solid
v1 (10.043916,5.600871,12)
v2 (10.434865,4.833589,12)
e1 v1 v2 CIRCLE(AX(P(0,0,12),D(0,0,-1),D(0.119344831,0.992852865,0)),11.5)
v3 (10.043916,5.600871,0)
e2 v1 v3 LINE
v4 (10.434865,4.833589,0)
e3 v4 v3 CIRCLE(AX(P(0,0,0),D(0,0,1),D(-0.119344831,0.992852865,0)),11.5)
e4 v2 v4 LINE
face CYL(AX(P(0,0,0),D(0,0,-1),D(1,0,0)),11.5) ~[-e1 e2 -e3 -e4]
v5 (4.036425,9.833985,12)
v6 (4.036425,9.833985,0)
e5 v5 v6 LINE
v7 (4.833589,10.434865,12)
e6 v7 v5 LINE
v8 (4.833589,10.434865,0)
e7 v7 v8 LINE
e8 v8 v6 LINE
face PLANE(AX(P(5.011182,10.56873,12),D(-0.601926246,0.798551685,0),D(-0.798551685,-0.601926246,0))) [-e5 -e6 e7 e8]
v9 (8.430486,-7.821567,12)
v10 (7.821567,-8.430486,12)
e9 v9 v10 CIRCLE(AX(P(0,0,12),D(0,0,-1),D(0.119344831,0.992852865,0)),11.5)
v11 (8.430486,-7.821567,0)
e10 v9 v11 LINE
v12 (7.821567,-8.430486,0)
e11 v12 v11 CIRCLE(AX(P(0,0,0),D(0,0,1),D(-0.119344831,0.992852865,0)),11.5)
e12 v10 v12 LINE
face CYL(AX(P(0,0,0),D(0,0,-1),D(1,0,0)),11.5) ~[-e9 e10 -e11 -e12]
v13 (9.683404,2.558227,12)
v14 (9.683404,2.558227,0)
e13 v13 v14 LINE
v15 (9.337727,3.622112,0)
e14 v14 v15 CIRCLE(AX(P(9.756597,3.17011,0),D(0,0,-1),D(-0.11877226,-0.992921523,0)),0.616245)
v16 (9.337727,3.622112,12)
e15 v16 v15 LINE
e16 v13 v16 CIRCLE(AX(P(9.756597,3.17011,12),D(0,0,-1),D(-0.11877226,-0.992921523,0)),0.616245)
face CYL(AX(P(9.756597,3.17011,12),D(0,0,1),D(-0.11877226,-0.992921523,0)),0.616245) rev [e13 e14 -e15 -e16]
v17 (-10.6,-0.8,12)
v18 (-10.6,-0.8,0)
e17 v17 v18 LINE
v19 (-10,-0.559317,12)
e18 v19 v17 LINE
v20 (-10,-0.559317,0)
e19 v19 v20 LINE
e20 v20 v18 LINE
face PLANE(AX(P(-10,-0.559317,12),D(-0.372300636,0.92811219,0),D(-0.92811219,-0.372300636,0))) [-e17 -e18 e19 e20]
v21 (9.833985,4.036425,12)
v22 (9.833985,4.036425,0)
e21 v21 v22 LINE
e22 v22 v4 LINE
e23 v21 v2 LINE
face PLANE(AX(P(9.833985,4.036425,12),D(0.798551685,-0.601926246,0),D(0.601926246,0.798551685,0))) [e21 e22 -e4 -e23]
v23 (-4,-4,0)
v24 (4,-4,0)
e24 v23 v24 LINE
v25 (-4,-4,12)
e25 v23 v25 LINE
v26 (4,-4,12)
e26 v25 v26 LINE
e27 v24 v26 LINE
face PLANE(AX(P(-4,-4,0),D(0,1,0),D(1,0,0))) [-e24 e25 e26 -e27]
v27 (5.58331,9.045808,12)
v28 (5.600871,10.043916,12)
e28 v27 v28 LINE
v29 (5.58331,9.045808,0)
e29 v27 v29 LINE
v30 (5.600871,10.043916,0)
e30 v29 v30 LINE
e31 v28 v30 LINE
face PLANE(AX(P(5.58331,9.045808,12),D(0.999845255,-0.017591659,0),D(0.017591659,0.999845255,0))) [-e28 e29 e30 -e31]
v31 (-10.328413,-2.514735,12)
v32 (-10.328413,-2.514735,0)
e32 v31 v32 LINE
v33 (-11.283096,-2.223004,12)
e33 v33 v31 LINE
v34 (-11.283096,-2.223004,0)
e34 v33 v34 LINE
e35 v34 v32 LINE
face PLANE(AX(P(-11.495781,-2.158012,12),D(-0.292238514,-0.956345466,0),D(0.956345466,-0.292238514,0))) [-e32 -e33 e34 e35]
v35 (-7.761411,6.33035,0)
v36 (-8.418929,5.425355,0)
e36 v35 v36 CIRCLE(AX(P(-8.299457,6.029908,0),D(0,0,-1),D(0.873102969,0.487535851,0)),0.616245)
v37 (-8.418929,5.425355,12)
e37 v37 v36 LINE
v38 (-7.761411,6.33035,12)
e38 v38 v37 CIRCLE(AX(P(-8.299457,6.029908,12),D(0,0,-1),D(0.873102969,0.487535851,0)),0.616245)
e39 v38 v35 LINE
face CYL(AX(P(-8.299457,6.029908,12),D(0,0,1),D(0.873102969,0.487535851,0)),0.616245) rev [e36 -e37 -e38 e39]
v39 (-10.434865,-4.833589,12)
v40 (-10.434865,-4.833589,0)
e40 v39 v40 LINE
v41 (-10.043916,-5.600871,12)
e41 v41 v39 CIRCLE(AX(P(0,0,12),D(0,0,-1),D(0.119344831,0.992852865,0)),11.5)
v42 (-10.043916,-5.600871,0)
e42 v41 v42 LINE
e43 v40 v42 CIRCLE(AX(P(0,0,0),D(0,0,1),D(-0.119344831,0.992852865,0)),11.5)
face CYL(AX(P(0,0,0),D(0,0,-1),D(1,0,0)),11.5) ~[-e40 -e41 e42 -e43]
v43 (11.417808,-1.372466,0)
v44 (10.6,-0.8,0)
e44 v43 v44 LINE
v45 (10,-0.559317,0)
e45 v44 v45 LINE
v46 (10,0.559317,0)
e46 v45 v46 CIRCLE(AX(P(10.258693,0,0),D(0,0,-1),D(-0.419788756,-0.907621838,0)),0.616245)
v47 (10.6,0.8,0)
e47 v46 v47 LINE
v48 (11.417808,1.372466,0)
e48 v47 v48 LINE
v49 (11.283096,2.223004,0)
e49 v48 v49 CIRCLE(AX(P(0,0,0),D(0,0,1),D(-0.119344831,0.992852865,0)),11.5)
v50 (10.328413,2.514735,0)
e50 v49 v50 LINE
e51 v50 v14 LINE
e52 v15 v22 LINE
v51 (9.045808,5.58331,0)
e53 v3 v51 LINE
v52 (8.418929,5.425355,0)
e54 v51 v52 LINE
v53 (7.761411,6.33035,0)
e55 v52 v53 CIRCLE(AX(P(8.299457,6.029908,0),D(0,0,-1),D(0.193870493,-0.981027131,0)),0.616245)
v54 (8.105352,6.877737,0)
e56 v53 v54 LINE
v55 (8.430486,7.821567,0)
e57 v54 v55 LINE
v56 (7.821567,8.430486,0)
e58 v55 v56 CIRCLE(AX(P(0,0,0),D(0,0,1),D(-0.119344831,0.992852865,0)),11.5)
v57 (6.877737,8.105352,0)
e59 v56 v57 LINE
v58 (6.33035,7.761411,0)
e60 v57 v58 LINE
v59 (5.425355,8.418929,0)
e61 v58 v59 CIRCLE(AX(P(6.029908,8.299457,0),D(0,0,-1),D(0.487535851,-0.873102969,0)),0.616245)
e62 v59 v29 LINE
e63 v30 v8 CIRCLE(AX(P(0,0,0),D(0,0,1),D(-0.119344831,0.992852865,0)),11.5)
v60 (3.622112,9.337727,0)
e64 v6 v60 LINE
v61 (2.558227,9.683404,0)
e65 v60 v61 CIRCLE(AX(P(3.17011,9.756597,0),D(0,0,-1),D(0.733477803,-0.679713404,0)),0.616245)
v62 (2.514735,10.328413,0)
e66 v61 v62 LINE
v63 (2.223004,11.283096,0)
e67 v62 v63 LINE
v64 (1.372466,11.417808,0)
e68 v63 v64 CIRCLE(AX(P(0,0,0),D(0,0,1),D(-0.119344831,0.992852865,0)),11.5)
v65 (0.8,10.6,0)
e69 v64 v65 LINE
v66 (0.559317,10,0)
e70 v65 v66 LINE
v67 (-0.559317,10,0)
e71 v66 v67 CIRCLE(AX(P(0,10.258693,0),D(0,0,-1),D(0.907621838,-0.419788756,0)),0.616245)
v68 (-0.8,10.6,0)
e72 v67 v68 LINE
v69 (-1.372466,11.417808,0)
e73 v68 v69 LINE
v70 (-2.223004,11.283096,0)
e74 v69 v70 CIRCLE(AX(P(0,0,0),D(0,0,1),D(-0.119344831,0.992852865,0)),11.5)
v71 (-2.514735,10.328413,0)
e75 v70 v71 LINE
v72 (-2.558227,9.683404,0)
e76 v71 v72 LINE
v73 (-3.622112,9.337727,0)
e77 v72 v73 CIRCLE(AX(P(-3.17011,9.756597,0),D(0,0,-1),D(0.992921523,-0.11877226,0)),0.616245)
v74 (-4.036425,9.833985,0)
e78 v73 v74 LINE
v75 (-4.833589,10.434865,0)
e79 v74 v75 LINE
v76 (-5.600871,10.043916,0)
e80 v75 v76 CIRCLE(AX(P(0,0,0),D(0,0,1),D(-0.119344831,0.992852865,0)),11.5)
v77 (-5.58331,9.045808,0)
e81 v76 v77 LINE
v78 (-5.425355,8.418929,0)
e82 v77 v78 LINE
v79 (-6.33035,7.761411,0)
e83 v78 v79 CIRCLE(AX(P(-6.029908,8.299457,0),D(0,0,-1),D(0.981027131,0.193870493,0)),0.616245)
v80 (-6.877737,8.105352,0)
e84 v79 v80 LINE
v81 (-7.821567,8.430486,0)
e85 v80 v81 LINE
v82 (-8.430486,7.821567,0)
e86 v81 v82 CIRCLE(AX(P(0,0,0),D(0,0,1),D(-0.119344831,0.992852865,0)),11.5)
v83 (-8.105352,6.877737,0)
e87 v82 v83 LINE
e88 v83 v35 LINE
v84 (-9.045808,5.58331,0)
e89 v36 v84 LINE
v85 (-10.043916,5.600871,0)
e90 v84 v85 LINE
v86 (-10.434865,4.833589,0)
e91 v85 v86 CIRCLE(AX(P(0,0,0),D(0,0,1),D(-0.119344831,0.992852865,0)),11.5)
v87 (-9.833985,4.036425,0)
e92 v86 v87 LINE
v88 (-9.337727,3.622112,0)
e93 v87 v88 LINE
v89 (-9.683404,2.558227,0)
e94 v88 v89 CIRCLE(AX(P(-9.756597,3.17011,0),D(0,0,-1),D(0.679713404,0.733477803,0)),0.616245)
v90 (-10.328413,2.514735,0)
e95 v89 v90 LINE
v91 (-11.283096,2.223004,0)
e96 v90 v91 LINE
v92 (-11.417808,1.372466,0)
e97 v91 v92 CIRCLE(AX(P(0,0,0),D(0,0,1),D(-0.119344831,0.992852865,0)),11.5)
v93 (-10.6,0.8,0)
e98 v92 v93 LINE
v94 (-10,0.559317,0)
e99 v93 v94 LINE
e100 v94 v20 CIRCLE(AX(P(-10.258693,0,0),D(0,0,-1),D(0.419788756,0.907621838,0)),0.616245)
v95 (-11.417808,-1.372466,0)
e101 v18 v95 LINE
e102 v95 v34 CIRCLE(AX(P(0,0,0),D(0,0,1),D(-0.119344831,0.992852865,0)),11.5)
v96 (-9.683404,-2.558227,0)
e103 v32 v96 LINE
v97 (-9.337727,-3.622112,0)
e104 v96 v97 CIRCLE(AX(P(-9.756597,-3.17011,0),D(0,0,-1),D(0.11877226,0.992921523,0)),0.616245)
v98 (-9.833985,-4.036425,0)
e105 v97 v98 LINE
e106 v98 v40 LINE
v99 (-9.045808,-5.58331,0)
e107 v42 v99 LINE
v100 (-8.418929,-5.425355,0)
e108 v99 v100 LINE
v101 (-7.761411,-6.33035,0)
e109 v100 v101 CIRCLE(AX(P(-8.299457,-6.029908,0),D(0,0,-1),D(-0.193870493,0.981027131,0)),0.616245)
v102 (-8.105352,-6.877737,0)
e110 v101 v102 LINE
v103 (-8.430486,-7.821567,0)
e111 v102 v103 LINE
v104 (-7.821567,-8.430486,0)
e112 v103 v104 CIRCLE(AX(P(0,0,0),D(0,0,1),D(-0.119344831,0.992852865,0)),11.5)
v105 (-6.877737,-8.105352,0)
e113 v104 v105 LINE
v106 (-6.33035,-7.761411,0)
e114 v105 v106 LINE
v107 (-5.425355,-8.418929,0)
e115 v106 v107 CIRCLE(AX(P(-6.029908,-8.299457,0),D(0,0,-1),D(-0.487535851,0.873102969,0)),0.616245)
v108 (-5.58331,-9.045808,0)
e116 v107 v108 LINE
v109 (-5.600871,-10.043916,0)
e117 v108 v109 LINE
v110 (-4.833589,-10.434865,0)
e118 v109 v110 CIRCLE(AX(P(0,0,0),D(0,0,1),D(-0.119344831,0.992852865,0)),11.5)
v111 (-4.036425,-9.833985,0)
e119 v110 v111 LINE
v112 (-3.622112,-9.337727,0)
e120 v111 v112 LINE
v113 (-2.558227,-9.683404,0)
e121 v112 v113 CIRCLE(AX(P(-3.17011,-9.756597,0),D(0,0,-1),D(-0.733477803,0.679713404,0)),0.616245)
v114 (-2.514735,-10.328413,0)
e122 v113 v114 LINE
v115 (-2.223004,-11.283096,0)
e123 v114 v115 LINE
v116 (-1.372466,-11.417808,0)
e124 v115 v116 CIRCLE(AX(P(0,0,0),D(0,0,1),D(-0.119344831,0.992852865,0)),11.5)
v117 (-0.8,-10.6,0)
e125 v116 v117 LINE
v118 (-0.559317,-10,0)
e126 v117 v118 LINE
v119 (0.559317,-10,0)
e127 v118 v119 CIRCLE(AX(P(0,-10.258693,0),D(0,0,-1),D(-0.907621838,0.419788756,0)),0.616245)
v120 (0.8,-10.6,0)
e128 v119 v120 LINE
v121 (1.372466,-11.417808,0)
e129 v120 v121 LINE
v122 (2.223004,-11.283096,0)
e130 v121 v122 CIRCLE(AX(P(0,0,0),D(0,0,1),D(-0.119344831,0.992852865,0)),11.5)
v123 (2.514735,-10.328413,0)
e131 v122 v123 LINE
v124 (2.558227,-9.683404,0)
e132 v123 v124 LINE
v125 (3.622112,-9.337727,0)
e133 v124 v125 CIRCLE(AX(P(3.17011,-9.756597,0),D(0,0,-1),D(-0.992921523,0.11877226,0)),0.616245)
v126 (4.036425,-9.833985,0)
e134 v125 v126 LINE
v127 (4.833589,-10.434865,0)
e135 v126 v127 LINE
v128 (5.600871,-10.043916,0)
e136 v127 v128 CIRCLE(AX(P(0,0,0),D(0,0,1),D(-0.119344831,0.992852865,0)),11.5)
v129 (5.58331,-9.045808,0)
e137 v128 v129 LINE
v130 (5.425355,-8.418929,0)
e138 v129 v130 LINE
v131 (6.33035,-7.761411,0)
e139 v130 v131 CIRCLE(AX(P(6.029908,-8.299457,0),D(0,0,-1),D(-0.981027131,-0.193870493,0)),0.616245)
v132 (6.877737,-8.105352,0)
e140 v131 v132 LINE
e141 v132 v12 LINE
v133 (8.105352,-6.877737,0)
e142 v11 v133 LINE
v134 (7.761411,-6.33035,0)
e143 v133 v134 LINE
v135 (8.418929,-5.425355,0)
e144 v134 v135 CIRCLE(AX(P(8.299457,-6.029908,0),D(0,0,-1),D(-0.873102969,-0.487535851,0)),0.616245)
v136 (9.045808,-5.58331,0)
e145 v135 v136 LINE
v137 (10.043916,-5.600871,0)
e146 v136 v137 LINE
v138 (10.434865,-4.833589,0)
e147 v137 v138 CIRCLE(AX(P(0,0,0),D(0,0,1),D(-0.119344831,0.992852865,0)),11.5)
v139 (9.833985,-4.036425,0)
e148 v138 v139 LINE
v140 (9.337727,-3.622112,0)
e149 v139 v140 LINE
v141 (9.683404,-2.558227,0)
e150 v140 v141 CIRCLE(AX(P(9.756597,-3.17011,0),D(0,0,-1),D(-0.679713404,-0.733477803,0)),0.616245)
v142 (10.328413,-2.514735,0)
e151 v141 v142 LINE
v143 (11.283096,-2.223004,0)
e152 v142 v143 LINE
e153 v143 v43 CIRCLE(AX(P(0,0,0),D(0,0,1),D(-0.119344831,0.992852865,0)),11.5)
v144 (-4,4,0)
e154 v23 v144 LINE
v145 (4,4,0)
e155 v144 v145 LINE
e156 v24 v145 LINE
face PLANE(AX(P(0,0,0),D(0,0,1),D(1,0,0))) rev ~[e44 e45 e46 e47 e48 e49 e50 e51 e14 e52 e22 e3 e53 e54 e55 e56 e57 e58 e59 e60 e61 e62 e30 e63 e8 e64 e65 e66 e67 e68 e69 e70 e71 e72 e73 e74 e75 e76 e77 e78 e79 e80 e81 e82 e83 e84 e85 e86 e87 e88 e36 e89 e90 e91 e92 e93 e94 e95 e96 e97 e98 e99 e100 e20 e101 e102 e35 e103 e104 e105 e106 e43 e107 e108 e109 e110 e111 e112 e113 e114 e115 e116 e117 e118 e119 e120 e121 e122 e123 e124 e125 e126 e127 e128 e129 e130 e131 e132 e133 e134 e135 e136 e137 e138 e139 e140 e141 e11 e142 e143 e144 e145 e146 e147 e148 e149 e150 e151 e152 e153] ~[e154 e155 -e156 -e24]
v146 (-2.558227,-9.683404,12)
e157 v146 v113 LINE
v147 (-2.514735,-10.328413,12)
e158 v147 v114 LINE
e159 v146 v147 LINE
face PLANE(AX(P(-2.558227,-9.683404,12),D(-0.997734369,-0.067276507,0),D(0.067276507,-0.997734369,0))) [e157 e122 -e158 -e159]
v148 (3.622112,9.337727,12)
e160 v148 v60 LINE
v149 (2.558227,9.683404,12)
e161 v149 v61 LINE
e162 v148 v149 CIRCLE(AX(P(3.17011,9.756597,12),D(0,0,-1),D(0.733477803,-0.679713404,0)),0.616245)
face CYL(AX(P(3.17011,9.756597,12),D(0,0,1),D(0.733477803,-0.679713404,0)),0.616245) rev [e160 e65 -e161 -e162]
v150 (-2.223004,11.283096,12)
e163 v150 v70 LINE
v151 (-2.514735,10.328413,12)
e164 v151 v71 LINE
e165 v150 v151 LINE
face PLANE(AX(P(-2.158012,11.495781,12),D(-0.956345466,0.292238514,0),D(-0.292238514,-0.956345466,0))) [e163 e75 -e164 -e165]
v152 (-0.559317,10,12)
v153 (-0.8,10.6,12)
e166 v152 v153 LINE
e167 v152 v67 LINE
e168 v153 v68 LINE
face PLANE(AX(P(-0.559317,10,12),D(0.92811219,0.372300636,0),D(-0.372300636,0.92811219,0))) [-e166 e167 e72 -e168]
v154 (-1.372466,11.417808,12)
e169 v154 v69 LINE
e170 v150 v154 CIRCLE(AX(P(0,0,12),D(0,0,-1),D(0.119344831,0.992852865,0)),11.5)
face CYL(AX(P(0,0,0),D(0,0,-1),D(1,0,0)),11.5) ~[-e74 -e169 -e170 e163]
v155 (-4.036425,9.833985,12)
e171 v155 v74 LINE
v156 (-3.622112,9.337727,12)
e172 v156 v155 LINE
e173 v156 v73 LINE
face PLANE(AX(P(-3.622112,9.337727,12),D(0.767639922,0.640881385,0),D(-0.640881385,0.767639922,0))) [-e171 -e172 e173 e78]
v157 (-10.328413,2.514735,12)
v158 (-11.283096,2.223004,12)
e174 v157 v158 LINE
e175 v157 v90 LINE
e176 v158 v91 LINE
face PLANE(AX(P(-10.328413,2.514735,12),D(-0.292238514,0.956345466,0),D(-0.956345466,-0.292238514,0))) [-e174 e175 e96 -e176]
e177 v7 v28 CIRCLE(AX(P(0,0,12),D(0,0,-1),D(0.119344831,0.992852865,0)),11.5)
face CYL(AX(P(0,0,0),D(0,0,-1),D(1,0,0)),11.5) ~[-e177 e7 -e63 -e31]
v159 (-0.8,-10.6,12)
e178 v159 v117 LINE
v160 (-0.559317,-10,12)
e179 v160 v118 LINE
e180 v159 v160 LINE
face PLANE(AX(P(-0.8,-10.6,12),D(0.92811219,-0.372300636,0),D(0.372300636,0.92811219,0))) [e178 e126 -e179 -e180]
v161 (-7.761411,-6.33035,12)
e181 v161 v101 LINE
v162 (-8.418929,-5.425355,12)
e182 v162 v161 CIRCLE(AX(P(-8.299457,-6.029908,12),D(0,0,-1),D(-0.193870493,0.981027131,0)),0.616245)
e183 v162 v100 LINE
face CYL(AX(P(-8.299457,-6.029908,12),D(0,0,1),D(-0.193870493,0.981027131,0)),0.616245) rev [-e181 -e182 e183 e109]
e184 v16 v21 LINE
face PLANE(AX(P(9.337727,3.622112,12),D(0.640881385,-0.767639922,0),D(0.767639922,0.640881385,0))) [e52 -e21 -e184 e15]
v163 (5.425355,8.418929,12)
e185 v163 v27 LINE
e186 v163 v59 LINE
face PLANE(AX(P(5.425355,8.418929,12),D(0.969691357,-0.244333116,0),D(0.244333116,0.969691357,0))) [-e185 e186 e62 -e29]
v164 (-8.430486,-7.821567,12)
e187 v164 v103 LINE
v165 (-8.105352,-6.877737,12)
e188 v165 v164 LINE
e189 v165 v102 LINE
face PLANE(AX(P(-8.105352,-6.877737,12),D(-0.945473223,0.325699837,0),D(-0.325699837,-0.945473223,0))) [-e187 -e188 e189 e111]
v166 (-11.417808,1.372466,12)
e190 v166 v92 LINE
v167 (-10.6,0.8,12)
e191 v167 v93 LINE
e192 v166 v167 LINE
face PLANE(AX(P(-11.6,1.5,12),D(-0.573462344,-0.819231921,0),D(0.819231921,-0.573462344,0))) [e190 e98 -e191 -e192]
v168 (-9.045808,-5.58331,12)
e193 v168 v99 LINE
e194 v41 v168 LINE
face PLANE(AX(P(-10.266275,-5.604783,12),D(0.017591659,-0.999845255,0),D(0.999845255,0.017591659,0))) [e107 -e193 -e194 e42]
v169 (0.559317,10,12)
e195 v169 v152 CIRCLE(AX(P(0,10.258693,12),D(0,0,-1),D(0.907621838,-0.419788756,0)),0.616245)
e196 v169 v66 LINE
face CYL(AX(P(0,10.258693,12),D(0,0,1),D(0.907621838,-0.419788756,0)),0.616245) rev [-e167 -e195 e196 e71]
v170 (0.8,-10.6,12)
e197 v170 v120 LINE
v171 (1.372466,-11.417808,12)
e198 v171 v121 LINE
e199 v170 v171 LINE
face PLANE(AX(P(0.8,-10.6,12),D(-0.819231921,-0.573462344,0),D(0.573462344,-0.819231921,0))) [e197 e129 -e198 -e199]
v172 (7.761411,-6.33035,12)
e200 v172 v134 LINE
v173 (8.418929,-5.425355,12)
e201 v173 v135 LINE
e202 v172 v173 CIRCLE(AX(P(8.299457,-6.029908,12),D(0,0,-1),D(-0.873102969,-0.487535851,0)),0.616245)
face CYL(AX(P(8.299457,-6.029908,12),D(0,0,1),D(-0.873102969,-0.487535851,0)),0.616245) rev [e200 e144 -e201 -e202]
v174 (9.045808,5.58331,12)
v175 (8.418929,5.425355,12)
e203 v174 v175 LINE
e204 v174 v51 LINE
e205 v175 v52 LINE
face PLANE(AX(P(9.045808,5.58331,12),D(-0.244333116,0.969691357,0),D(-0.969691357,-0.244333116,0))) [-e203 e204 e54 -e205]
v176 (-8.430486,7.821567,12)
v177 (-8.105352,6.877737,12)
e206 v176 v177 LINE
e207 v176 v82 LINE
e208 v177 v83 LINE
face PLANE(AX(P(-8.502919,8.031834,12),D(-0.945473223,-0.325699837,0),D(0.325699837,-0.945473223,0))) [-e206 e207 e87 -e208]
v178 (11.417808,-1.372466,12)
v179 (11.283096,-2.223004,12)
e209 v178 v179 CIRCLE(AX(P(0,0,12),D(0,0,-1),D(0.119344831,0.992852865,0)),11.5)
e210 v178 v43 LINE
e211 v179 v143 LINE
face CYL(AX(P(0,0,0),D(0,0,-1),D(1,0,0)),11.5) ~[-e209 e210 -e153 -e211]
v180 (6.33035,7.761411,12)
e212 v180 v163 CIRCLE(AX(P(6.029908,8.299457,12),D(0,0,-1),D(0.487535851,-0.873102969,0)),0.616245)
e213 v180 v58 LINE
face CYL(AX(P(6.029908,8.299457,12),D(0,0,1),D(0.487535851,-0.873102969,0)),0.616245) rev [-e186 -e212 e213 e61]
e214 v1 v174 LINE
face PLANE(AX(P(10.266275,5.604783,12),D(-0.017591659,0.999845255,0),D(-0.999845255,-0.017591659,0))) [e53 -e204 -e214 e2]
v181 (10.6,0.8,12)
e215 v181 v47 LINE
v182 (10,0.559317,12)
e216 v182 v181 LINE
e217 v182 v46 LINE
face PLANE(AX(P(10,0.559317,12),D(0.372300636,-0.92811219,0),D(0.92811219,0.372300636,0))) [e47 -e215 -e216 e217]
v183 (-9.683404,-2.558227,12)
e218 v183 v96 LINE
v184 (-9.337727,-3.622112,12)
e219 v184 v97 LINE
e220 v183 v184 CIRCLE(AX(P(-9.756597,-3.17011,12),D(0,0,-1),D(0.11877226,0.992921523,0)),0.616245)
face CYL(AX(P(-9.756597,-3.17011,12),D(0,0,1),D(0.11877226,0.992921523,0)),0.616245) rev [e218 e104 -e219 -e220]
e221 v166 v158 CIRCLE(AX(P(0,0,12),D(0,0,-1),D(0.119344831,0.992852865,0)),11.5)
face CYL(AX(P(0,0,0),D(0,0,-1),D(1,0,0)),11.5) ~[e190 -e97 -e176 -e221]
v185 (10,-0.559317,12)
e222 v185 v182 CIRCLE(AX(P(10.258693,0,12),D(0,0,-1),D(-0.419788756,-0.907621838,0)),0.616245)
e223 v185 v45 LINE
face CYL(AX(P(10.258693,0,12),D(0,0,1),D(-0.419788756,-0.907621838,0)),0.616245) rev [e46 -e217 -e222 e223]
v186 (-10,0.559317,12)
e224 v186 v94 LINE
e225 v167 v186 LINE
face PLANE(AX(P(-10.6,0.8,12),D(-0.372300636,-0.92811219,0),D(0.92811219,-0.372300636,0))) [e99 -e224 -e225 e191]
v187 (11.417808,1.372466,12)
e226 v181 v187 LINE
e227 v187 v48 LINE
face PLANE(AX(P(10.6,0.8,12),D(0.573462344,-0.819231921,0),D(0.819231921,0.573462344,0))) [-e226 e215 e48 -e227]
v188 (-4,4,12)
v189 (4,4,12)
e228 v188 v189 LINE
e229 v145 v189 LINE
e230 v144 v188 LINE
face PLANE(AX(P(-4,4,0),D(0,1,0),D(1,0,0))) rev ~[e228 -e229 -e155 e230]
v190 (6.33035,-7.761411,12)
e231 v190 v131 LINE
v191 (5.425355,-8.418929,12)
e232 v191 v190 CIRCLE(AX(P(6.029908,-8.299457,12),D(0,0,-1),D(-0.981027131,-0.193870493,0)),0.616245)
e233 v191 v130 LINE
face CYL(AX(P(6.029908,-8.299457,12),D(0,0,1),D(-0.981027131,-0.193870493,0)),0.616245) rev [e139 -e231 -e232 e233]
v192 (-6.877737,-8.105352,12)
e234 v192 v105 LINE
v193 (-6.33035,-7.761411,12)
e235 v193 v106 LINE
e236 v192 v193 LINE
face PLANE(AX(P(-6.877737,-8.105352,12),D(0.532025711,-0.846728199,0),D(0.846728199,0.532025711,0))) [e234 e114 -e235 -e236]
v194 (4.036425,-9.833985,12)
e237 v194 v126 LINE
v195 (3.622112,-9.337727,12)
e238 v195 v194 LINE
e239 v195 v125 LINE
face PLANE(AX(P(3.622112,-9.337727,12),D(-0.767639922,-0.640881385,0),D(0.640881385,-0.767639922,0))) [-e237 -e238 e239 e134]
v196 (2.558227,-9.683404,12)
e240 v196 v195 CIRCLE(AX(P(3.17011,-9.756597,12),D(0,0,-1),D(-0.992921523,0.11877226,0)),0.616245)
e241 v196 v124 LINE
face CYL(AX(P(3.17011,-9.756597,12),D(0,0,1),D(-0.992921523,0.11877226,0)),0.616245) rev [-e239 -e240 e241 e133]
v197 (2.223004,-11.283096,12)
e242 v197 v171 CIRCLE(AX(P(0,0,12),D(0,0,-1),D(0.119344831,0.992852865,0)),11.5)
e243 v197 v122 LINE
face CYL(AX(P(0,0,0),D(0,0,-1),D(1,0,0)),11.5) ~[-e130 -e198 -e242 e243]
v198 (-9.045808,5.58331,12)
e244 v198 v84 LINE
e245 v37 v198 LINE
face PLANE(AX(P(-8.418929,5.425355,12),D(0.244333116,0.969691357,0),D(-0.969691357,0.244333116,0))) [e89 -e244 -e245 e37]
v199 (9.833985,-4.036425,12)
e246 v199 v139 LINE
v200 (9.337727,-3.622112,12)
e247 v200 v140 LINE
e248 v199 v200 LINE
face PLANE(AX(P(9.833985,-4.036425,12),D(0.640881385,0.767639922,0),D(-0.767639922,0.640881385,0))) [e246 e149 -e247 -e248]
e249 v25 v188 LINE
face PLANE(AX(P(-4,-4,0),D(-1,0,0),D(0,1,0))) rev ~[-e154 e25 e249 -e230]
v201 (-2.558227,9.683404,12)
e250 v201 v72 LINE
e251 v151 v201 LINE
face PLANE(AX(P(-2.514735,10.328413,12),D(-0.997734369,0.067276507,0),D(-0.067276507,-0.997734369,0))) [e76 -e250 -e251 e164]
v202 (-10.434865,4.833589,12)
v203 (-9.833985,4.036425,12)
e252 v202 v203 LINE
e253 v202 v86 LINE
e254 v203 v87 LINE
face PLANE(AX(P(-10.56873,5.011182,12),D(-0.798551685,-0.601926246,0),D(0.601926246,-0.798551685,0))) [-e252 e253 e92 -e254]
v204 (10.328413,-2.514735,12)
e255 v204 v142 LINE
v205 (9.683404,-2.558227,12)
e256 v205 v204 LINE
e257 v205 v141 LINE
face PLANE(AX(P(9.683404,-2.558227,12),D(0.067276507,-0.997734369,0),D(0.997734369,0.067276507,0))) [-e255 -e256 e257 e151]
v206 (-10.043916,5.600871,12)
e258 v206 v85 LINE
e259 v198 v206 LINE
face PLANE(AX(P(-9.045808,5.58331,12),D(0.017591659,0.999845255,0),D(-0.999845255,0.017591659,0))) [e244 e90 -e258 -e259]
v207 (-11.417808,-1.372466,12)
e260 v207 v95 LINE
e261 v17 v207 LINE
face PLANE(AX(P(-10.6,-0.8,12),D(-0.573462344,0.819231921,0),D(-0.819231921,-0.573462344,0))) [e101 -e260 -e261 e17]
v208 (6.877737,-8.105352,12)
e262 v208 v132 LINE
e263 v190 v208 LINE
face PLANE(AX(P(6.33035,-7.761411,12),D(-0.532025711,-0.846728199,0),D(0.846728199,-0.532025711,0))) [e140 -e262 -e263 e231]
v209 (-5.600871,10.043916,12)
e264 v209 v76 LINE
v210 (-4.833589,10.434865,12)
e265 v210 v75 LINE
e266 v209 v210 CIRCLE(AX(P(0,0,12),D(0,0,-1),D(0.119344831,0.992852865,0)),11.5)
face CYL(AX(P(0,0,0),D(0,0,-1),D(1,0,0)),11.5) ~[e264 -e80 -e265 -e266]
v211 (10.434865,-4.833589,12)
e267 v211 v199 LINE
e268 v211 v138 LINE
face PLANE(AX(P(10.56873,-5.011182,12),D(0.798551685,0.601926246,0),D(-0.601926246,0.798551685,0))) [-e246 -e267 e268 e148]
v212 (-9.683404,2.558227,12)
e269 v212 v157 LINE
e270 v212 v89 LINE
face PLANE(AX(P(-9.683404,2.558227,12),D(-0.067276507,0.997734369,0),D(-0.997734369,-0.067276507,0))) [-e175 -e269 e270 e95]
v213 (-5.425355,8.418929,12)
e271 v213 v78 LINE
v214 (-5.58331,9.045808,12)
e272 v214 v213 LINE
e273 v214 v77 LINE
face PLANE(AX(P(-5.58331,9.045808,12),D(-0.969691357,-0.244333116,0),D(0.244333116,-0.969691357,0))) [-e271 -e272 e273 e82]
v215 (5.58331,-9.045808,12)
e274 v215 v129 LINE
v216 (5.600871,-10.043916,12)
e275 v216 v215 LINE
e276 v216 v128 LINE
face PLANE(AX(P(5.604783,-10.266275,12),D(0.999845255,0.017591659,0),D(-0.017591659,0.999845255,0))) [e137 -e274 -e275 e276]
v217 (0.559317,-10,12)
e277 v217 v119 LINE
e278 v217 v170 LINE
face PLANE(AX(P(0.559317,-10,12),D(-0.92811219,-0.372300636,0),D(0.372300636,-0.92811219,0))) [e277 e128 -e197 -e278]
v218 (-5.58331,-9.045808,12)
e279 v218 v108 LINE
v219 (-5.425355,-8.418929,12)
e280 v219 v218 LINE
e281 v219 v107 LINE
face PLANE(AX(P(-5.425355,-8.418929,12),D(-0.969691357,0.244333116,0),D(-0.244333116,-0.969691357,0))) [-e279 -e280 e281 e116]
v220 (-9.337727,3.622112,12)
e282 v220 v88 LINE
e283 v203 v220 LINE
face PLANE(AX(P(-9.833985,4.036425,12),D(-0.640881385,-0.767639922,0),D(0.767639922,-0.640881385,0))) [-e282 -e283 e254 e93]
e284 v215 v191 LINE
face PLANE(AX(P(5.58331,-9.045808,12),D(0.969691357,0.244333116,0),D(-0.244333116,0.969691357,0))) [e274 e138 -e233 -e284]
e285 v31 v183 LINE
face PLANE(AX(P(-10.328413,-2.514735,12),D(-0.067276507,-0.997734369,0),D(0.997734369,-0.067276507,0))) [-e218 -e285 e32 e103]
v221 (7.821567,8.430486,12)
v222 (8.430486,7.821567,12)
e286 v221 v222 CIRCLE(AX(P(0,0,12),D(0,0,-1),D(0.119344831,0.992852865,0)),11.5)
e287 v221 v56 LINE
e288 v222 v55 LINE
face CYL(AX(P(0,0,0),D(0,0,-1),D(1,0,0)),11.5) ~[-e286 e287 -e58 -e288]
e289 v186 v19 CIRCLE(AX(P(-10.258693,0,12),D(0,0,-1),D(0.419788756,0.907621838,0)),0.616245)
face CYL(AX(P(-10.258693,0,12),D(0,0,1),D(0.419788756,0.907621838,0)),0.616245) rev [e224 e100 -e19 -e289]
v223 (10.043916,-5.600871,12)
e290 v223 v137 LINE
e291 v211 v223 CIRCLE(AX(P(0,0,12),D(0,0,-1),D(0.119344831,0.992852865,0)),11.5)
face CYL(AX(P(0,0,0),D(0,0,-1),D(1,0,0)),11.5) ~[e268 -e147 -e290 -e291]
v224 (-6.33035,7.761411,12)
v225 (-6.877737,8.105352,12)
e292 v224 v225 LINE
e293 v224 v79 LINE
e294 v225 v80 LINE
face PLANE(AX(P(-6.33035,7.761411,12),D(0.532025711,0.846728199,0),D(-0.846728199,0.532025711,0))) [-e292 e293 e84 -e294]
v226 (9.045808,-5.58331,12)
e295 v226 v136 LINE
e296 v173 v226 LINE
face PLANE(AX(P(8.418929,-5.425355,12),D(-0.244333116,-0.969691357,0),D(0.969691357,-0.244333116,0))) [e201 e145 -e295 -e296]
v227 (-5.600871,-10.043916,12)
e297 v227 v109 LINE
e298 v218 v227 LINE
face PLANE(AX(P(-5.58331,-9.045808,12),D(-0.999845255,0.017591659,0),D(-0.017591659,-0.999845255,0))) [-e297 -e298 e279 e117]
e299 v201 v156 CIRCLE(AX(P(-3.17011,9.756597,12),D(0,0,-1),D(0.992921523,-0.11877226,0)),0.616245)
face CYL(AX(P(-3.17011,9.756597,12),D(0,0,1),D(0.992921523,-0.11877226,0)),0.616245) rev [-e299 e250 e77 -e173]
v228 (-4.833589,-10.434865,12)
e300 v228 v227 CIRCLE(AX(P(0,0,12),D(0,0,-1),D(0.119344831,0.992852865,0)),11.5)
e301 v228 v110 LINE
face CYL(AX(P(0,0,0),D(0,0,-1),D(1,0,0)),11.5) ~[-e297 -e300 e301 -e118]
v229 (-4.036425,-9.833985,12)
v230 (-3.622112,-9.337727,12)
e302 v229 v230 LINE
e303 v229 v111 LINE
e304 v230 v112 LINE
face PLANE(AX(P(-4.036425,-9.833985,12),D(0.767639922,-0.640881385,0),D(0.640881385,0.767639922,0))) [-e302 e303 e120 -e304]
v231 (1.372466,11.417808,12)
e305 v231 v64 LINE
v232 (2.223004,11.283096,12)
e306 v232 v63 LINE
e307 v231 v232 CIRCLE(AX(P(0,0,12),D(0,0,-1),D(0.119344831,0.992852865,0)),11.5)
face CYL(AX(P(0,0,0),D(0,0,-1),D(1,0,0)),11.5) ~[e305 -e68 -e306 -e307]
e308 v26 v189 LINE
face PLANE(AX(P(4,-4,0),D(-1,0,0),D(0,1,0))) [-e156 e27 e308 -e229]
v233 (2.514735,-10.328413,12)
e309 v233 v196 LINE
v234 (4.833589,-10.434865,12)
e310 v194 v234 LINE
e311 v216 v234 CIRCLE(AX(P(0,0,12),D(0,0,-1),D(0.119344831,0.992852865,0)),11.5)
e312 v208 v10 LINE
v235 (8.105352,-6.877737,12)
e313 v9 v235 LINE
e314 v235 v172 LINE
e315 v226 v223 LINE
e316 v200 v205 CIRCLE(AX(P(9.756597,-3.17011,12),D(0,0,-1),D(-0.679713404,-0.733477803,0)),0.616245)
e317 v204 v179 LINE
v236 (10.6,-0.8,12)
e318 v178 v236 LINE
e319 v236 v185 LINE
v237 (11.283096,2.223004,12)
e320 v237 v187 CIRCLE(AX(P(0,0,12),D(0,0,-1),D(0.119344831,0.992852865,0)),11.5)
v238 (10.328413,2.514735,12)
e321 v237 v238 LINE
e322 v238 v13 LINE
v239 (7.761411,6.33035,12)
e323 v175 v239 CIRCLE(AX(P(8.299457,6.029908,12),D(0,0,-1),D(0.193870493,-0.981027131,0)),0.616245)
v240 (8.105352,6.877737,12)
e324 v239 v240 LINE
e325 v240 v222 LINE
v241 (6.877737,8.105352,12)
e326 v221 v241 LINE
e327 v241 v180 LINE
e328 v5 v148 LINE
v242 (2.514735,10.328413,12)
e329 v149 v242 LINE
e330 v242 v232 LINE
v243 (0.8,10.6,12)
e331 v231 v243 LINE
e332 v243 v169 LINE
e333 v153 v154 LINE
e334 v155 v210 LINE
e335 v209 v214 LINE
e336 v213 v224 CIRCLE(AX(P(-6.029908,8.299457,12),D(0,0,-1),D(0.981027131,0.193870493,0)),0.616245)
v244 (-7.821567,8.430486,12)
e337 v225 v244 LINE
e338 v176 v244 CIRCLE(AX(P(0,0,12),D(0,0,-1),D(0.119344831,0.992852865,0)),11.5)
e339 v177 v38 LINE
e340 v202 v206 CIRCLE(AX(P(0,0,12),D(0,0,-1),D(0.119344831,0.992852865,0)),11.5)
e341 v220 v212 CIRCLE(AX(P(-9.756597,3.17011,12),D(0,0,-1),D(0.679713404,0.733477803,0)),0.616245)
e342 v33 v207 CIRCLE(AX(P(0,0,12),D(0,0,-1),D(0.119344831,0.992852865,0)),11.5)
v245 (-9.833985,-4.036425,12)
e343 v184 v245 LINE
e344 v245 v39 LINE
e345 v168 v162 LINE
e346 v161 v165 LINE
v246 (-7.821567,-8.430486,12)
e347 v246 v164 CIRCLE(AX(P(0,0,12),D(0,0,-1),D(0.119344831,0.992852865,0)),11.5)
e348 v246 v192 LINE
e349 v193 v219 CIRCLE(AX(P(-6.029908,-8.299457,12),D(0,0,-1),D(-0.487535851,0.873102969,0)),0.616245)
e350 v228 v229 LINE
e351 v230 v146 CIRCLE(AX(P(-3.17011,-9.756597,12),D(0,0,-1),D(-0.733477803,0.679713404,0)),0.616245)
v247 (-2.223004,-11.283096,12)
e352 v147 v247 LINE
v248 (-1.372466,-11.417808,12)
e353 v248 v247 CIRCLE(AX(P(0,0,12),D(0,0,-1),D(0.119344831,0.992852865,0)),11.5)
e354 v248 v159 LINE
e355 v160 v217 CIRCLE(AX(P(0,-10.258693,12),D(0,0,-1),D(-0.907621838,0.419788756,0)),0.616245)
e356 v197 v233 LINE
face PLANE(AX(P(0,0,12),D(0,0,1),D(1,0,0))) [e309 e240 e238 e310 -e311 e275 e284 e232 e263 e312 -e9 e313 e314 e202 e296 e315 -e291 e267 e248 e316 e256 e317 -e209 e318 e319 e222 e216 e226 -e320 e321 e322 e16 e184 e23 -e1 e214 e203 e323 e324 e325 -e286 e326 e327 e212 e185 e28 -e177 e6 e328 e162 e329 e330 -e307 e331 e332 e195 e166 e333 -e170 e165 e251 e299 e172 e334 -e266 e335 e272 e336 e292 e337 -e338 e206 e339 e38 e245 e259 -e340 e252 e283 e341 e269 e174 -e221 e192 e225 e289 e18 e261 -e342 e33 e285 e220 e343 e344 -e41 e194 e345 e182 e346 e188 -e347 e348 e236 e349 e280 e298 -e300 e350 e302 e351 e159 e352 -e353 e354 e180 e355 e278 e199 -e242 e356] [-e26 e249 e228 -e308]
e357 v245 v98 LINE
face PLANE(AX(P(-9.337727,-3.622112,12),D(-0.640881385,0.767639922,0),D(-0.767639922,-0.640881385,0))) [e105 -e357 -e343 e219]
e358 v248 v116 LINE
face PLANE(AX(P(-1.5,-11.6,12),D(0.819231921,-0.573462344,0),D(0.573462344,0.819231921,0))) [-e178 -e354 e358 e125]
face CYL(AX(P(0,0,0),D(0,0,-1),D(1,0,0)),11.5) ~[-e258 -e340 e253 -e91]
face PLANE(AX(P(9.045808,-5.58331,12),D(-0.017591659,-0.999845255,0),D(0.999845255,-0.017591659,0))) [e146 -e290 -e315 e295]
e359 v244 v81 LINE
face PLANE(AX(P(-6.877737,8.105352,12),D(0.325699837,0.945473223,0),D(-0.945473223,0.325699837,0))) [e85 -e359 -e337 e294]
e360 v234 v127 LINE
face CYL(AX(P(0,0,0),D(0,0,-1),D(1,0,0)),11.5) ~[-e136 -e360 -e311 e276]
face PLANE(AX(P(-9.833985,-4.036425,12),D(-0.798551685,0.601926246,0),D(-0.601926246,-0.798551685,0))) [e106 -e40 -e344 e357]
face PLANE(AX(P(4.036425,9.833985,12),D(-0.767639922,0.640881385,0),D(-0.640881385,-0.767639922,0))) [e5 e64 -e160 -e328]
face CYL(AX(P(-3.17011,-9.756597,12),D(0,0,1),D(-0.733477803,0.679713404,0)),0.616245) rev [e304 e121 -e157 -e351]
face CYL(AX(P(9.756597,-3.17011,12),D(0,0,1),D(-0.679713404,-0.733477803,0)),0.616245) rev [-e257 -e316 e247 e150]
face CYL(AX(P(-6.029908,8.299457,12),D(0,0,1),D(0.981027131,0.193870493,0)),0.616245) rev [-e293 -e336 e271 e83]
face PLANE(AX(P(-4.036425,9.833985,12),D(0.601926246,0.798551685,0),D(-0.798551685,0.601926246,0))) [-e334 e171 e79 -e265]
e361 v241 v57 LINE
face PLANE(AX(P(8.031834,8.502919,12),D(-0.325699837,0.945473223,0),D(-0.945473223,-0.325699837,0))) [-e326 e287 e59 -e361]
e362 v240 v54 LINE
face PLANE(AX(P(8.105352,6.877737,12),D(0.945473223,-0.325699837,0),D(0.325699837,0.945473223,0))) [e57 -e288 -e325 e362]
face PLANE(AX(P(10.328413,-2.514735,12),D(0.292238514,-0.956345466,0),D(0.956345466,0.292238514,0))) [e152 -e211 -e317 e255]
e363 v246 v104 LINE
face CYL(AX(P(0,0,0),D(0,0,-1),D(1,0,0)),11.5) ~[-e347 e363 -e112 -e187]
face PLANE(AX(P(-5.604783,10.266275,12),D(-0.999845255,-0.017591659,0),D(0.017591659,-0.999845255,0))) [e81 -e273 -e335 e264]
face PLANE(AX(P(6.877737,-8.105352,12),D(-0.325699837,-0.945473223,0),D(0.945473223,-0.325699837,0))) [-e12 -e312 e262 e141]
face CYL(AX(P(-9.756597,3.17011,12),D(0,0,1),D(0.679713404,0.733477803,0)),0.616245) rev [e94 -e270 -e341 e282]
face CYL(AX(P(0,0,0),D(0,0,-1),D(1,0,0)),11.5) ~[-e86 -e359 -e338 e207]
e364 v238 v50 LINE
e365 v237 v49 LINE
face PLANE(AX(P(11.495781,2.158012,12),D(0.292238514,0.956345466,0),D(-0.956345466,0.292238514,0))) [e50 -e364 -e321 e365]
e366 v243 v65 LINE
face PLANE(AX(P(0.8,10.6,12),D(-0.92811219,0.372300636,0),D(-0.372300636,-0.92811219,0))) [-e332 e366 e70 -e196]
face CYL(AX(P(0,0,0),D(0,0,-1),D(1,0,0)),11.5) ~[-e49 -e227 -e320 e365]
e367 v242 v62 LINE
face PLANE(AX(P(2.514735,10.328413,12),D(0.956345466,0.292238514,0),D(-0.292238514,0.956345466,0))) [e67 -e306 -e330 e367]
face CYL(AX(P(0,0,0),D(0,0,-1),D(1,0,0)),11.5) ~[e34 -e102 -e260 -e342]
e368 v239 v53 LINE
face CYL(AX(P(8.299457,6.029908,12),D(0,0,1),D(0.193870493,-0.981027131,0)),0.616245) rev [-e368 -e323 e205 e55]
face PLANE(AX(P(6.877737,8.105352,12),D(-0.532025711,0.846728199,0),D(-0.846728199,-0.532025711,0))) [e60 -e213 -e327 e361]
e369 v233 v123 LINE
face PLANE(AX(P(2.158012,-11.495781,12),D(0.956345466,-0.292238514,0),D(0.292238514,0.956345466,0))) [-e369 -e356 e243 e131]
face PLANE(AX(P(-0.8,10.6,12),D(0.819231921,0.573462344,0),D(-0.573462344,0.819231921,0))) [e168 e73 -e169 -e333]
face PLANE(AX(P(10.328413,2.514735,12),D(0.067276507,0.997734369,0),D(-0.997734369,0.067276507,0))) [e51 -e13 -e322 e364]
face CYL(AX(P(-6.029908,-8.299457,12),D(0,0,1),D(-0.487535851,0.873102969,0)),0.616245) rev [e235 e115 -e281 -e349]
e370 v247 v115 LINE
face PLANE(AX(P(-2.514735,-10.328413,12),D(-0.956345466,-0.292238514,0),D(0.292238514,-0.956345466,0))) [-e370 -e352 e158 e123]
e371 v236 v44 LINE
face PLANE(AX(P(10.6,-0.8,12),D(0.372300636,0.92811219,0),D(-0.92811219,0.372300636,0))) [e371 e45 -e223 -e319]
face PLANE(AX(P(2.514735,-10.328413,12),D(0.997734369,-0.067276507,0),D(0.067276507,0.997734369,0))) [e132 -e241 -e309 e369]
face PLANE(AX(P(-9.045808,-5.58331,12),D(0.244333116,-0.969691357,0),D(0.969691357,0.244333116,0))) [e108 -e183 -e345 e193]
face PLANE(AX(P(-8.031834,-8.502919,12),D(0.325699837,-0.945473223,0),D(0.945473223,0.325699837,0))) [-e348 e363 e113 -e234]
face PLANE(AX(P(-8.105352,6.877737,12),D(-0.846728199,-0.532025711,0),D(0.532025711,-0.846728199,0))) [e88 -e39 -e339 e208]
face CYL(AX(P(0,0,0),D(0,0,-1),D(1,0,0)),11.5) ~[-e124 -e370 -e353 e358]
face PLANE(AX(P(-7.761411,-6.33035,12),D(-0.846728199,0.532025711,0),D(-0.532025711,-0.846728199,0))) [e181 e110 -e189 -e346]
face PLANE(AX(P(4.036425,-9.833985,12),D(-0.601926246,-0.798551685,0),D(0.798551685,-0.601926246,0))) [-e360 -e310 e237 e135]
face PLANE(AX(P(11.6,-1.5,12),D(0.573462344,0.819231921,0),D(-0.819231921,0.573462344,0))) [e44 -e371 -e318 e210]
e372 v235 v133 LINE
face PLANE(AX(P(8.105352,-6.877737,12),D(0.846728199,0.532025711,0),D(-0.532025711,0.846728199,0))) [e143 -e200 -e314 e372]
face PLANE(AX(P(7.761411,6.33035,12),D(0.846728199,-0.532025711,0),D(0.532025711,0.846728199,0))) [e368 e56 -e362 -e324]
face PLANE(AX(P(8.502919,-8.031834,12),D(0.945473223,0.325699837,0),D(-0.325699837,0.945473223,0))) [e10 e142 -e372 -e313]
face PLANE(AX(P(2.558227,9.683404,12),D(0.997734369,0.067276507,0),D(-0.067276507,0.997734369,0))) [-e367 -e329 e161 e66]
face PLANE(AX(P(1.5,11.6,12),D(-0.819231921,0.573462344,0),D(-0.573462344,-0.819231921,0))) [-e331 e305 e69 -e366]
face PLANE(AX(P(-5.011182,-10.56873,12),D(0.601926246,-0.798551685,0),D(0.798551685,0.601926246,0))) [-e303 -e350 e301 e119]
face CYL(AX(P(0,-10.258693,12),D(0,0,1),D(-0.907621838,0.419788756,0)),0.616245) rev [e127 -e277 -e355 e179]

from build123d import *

# Parameters (mm, degrees)
SKETCH1_R           = 11.5
SKETCH1_W           = 8
SKETCH1_H           = 8
BOSS_EXTRUDE1_DEPTH = 12
CUT_EXTRUDE1_DEPTH  = 12
CIRPATTERN1_COUNT   = 20


with BuildPart() as part:
    # Sketch1 → Boss-Extrude1 (new body)
    with BuildSketch(Plane.XY):
        Circle(SKETCH1_R)
        Rectangle(SKETCH1_W, SKETCH1_H, mode=Mode.SUBTRACT)
    extrude(amount=BOSS_EXTRUDE1_DEPTH)

    # Sketch2 → Cut-Extrude1 (cut)
    with BuildSketch(Plane.XY.offset(12)):
        with BuildLine():
            Line((0, 11.6), (1.5, 11.6))
            Line((1.5, 11.6), (0.8, 10.6))
            Line((0.8, 10.6), (0.559317479, 10))
            ThreePointArc((0.559317479, 10), (0, 9.642447684), (-0.559317479, 10))
            Line((-0.559317479, 10), (-0.8, 10.6))
            Line((-0.8, 10.6), (-1.5, 11.6))
            Line((-1.5, 11.6), (0, 11.6))
        make_face()
    cut_extrude1 = extrude(amount=-CUT_EXTRUDE1_DEPTH, mode=Mode.SUBTRACT)

    # CirPattern1: Cut-Extrude1 ×20 about axis
    cirpattern1_axis = Axis((0, 0, 0), (0, 0, 1))
    for i in range(1, CIRPATTERN1_COUNT):
        add(cut_extrude1.rotate(cirpattern1_axis, i * 360 / CIRPATTERN1_COUNT), mode=Mode.SUBTRACT)


solid = part.part
